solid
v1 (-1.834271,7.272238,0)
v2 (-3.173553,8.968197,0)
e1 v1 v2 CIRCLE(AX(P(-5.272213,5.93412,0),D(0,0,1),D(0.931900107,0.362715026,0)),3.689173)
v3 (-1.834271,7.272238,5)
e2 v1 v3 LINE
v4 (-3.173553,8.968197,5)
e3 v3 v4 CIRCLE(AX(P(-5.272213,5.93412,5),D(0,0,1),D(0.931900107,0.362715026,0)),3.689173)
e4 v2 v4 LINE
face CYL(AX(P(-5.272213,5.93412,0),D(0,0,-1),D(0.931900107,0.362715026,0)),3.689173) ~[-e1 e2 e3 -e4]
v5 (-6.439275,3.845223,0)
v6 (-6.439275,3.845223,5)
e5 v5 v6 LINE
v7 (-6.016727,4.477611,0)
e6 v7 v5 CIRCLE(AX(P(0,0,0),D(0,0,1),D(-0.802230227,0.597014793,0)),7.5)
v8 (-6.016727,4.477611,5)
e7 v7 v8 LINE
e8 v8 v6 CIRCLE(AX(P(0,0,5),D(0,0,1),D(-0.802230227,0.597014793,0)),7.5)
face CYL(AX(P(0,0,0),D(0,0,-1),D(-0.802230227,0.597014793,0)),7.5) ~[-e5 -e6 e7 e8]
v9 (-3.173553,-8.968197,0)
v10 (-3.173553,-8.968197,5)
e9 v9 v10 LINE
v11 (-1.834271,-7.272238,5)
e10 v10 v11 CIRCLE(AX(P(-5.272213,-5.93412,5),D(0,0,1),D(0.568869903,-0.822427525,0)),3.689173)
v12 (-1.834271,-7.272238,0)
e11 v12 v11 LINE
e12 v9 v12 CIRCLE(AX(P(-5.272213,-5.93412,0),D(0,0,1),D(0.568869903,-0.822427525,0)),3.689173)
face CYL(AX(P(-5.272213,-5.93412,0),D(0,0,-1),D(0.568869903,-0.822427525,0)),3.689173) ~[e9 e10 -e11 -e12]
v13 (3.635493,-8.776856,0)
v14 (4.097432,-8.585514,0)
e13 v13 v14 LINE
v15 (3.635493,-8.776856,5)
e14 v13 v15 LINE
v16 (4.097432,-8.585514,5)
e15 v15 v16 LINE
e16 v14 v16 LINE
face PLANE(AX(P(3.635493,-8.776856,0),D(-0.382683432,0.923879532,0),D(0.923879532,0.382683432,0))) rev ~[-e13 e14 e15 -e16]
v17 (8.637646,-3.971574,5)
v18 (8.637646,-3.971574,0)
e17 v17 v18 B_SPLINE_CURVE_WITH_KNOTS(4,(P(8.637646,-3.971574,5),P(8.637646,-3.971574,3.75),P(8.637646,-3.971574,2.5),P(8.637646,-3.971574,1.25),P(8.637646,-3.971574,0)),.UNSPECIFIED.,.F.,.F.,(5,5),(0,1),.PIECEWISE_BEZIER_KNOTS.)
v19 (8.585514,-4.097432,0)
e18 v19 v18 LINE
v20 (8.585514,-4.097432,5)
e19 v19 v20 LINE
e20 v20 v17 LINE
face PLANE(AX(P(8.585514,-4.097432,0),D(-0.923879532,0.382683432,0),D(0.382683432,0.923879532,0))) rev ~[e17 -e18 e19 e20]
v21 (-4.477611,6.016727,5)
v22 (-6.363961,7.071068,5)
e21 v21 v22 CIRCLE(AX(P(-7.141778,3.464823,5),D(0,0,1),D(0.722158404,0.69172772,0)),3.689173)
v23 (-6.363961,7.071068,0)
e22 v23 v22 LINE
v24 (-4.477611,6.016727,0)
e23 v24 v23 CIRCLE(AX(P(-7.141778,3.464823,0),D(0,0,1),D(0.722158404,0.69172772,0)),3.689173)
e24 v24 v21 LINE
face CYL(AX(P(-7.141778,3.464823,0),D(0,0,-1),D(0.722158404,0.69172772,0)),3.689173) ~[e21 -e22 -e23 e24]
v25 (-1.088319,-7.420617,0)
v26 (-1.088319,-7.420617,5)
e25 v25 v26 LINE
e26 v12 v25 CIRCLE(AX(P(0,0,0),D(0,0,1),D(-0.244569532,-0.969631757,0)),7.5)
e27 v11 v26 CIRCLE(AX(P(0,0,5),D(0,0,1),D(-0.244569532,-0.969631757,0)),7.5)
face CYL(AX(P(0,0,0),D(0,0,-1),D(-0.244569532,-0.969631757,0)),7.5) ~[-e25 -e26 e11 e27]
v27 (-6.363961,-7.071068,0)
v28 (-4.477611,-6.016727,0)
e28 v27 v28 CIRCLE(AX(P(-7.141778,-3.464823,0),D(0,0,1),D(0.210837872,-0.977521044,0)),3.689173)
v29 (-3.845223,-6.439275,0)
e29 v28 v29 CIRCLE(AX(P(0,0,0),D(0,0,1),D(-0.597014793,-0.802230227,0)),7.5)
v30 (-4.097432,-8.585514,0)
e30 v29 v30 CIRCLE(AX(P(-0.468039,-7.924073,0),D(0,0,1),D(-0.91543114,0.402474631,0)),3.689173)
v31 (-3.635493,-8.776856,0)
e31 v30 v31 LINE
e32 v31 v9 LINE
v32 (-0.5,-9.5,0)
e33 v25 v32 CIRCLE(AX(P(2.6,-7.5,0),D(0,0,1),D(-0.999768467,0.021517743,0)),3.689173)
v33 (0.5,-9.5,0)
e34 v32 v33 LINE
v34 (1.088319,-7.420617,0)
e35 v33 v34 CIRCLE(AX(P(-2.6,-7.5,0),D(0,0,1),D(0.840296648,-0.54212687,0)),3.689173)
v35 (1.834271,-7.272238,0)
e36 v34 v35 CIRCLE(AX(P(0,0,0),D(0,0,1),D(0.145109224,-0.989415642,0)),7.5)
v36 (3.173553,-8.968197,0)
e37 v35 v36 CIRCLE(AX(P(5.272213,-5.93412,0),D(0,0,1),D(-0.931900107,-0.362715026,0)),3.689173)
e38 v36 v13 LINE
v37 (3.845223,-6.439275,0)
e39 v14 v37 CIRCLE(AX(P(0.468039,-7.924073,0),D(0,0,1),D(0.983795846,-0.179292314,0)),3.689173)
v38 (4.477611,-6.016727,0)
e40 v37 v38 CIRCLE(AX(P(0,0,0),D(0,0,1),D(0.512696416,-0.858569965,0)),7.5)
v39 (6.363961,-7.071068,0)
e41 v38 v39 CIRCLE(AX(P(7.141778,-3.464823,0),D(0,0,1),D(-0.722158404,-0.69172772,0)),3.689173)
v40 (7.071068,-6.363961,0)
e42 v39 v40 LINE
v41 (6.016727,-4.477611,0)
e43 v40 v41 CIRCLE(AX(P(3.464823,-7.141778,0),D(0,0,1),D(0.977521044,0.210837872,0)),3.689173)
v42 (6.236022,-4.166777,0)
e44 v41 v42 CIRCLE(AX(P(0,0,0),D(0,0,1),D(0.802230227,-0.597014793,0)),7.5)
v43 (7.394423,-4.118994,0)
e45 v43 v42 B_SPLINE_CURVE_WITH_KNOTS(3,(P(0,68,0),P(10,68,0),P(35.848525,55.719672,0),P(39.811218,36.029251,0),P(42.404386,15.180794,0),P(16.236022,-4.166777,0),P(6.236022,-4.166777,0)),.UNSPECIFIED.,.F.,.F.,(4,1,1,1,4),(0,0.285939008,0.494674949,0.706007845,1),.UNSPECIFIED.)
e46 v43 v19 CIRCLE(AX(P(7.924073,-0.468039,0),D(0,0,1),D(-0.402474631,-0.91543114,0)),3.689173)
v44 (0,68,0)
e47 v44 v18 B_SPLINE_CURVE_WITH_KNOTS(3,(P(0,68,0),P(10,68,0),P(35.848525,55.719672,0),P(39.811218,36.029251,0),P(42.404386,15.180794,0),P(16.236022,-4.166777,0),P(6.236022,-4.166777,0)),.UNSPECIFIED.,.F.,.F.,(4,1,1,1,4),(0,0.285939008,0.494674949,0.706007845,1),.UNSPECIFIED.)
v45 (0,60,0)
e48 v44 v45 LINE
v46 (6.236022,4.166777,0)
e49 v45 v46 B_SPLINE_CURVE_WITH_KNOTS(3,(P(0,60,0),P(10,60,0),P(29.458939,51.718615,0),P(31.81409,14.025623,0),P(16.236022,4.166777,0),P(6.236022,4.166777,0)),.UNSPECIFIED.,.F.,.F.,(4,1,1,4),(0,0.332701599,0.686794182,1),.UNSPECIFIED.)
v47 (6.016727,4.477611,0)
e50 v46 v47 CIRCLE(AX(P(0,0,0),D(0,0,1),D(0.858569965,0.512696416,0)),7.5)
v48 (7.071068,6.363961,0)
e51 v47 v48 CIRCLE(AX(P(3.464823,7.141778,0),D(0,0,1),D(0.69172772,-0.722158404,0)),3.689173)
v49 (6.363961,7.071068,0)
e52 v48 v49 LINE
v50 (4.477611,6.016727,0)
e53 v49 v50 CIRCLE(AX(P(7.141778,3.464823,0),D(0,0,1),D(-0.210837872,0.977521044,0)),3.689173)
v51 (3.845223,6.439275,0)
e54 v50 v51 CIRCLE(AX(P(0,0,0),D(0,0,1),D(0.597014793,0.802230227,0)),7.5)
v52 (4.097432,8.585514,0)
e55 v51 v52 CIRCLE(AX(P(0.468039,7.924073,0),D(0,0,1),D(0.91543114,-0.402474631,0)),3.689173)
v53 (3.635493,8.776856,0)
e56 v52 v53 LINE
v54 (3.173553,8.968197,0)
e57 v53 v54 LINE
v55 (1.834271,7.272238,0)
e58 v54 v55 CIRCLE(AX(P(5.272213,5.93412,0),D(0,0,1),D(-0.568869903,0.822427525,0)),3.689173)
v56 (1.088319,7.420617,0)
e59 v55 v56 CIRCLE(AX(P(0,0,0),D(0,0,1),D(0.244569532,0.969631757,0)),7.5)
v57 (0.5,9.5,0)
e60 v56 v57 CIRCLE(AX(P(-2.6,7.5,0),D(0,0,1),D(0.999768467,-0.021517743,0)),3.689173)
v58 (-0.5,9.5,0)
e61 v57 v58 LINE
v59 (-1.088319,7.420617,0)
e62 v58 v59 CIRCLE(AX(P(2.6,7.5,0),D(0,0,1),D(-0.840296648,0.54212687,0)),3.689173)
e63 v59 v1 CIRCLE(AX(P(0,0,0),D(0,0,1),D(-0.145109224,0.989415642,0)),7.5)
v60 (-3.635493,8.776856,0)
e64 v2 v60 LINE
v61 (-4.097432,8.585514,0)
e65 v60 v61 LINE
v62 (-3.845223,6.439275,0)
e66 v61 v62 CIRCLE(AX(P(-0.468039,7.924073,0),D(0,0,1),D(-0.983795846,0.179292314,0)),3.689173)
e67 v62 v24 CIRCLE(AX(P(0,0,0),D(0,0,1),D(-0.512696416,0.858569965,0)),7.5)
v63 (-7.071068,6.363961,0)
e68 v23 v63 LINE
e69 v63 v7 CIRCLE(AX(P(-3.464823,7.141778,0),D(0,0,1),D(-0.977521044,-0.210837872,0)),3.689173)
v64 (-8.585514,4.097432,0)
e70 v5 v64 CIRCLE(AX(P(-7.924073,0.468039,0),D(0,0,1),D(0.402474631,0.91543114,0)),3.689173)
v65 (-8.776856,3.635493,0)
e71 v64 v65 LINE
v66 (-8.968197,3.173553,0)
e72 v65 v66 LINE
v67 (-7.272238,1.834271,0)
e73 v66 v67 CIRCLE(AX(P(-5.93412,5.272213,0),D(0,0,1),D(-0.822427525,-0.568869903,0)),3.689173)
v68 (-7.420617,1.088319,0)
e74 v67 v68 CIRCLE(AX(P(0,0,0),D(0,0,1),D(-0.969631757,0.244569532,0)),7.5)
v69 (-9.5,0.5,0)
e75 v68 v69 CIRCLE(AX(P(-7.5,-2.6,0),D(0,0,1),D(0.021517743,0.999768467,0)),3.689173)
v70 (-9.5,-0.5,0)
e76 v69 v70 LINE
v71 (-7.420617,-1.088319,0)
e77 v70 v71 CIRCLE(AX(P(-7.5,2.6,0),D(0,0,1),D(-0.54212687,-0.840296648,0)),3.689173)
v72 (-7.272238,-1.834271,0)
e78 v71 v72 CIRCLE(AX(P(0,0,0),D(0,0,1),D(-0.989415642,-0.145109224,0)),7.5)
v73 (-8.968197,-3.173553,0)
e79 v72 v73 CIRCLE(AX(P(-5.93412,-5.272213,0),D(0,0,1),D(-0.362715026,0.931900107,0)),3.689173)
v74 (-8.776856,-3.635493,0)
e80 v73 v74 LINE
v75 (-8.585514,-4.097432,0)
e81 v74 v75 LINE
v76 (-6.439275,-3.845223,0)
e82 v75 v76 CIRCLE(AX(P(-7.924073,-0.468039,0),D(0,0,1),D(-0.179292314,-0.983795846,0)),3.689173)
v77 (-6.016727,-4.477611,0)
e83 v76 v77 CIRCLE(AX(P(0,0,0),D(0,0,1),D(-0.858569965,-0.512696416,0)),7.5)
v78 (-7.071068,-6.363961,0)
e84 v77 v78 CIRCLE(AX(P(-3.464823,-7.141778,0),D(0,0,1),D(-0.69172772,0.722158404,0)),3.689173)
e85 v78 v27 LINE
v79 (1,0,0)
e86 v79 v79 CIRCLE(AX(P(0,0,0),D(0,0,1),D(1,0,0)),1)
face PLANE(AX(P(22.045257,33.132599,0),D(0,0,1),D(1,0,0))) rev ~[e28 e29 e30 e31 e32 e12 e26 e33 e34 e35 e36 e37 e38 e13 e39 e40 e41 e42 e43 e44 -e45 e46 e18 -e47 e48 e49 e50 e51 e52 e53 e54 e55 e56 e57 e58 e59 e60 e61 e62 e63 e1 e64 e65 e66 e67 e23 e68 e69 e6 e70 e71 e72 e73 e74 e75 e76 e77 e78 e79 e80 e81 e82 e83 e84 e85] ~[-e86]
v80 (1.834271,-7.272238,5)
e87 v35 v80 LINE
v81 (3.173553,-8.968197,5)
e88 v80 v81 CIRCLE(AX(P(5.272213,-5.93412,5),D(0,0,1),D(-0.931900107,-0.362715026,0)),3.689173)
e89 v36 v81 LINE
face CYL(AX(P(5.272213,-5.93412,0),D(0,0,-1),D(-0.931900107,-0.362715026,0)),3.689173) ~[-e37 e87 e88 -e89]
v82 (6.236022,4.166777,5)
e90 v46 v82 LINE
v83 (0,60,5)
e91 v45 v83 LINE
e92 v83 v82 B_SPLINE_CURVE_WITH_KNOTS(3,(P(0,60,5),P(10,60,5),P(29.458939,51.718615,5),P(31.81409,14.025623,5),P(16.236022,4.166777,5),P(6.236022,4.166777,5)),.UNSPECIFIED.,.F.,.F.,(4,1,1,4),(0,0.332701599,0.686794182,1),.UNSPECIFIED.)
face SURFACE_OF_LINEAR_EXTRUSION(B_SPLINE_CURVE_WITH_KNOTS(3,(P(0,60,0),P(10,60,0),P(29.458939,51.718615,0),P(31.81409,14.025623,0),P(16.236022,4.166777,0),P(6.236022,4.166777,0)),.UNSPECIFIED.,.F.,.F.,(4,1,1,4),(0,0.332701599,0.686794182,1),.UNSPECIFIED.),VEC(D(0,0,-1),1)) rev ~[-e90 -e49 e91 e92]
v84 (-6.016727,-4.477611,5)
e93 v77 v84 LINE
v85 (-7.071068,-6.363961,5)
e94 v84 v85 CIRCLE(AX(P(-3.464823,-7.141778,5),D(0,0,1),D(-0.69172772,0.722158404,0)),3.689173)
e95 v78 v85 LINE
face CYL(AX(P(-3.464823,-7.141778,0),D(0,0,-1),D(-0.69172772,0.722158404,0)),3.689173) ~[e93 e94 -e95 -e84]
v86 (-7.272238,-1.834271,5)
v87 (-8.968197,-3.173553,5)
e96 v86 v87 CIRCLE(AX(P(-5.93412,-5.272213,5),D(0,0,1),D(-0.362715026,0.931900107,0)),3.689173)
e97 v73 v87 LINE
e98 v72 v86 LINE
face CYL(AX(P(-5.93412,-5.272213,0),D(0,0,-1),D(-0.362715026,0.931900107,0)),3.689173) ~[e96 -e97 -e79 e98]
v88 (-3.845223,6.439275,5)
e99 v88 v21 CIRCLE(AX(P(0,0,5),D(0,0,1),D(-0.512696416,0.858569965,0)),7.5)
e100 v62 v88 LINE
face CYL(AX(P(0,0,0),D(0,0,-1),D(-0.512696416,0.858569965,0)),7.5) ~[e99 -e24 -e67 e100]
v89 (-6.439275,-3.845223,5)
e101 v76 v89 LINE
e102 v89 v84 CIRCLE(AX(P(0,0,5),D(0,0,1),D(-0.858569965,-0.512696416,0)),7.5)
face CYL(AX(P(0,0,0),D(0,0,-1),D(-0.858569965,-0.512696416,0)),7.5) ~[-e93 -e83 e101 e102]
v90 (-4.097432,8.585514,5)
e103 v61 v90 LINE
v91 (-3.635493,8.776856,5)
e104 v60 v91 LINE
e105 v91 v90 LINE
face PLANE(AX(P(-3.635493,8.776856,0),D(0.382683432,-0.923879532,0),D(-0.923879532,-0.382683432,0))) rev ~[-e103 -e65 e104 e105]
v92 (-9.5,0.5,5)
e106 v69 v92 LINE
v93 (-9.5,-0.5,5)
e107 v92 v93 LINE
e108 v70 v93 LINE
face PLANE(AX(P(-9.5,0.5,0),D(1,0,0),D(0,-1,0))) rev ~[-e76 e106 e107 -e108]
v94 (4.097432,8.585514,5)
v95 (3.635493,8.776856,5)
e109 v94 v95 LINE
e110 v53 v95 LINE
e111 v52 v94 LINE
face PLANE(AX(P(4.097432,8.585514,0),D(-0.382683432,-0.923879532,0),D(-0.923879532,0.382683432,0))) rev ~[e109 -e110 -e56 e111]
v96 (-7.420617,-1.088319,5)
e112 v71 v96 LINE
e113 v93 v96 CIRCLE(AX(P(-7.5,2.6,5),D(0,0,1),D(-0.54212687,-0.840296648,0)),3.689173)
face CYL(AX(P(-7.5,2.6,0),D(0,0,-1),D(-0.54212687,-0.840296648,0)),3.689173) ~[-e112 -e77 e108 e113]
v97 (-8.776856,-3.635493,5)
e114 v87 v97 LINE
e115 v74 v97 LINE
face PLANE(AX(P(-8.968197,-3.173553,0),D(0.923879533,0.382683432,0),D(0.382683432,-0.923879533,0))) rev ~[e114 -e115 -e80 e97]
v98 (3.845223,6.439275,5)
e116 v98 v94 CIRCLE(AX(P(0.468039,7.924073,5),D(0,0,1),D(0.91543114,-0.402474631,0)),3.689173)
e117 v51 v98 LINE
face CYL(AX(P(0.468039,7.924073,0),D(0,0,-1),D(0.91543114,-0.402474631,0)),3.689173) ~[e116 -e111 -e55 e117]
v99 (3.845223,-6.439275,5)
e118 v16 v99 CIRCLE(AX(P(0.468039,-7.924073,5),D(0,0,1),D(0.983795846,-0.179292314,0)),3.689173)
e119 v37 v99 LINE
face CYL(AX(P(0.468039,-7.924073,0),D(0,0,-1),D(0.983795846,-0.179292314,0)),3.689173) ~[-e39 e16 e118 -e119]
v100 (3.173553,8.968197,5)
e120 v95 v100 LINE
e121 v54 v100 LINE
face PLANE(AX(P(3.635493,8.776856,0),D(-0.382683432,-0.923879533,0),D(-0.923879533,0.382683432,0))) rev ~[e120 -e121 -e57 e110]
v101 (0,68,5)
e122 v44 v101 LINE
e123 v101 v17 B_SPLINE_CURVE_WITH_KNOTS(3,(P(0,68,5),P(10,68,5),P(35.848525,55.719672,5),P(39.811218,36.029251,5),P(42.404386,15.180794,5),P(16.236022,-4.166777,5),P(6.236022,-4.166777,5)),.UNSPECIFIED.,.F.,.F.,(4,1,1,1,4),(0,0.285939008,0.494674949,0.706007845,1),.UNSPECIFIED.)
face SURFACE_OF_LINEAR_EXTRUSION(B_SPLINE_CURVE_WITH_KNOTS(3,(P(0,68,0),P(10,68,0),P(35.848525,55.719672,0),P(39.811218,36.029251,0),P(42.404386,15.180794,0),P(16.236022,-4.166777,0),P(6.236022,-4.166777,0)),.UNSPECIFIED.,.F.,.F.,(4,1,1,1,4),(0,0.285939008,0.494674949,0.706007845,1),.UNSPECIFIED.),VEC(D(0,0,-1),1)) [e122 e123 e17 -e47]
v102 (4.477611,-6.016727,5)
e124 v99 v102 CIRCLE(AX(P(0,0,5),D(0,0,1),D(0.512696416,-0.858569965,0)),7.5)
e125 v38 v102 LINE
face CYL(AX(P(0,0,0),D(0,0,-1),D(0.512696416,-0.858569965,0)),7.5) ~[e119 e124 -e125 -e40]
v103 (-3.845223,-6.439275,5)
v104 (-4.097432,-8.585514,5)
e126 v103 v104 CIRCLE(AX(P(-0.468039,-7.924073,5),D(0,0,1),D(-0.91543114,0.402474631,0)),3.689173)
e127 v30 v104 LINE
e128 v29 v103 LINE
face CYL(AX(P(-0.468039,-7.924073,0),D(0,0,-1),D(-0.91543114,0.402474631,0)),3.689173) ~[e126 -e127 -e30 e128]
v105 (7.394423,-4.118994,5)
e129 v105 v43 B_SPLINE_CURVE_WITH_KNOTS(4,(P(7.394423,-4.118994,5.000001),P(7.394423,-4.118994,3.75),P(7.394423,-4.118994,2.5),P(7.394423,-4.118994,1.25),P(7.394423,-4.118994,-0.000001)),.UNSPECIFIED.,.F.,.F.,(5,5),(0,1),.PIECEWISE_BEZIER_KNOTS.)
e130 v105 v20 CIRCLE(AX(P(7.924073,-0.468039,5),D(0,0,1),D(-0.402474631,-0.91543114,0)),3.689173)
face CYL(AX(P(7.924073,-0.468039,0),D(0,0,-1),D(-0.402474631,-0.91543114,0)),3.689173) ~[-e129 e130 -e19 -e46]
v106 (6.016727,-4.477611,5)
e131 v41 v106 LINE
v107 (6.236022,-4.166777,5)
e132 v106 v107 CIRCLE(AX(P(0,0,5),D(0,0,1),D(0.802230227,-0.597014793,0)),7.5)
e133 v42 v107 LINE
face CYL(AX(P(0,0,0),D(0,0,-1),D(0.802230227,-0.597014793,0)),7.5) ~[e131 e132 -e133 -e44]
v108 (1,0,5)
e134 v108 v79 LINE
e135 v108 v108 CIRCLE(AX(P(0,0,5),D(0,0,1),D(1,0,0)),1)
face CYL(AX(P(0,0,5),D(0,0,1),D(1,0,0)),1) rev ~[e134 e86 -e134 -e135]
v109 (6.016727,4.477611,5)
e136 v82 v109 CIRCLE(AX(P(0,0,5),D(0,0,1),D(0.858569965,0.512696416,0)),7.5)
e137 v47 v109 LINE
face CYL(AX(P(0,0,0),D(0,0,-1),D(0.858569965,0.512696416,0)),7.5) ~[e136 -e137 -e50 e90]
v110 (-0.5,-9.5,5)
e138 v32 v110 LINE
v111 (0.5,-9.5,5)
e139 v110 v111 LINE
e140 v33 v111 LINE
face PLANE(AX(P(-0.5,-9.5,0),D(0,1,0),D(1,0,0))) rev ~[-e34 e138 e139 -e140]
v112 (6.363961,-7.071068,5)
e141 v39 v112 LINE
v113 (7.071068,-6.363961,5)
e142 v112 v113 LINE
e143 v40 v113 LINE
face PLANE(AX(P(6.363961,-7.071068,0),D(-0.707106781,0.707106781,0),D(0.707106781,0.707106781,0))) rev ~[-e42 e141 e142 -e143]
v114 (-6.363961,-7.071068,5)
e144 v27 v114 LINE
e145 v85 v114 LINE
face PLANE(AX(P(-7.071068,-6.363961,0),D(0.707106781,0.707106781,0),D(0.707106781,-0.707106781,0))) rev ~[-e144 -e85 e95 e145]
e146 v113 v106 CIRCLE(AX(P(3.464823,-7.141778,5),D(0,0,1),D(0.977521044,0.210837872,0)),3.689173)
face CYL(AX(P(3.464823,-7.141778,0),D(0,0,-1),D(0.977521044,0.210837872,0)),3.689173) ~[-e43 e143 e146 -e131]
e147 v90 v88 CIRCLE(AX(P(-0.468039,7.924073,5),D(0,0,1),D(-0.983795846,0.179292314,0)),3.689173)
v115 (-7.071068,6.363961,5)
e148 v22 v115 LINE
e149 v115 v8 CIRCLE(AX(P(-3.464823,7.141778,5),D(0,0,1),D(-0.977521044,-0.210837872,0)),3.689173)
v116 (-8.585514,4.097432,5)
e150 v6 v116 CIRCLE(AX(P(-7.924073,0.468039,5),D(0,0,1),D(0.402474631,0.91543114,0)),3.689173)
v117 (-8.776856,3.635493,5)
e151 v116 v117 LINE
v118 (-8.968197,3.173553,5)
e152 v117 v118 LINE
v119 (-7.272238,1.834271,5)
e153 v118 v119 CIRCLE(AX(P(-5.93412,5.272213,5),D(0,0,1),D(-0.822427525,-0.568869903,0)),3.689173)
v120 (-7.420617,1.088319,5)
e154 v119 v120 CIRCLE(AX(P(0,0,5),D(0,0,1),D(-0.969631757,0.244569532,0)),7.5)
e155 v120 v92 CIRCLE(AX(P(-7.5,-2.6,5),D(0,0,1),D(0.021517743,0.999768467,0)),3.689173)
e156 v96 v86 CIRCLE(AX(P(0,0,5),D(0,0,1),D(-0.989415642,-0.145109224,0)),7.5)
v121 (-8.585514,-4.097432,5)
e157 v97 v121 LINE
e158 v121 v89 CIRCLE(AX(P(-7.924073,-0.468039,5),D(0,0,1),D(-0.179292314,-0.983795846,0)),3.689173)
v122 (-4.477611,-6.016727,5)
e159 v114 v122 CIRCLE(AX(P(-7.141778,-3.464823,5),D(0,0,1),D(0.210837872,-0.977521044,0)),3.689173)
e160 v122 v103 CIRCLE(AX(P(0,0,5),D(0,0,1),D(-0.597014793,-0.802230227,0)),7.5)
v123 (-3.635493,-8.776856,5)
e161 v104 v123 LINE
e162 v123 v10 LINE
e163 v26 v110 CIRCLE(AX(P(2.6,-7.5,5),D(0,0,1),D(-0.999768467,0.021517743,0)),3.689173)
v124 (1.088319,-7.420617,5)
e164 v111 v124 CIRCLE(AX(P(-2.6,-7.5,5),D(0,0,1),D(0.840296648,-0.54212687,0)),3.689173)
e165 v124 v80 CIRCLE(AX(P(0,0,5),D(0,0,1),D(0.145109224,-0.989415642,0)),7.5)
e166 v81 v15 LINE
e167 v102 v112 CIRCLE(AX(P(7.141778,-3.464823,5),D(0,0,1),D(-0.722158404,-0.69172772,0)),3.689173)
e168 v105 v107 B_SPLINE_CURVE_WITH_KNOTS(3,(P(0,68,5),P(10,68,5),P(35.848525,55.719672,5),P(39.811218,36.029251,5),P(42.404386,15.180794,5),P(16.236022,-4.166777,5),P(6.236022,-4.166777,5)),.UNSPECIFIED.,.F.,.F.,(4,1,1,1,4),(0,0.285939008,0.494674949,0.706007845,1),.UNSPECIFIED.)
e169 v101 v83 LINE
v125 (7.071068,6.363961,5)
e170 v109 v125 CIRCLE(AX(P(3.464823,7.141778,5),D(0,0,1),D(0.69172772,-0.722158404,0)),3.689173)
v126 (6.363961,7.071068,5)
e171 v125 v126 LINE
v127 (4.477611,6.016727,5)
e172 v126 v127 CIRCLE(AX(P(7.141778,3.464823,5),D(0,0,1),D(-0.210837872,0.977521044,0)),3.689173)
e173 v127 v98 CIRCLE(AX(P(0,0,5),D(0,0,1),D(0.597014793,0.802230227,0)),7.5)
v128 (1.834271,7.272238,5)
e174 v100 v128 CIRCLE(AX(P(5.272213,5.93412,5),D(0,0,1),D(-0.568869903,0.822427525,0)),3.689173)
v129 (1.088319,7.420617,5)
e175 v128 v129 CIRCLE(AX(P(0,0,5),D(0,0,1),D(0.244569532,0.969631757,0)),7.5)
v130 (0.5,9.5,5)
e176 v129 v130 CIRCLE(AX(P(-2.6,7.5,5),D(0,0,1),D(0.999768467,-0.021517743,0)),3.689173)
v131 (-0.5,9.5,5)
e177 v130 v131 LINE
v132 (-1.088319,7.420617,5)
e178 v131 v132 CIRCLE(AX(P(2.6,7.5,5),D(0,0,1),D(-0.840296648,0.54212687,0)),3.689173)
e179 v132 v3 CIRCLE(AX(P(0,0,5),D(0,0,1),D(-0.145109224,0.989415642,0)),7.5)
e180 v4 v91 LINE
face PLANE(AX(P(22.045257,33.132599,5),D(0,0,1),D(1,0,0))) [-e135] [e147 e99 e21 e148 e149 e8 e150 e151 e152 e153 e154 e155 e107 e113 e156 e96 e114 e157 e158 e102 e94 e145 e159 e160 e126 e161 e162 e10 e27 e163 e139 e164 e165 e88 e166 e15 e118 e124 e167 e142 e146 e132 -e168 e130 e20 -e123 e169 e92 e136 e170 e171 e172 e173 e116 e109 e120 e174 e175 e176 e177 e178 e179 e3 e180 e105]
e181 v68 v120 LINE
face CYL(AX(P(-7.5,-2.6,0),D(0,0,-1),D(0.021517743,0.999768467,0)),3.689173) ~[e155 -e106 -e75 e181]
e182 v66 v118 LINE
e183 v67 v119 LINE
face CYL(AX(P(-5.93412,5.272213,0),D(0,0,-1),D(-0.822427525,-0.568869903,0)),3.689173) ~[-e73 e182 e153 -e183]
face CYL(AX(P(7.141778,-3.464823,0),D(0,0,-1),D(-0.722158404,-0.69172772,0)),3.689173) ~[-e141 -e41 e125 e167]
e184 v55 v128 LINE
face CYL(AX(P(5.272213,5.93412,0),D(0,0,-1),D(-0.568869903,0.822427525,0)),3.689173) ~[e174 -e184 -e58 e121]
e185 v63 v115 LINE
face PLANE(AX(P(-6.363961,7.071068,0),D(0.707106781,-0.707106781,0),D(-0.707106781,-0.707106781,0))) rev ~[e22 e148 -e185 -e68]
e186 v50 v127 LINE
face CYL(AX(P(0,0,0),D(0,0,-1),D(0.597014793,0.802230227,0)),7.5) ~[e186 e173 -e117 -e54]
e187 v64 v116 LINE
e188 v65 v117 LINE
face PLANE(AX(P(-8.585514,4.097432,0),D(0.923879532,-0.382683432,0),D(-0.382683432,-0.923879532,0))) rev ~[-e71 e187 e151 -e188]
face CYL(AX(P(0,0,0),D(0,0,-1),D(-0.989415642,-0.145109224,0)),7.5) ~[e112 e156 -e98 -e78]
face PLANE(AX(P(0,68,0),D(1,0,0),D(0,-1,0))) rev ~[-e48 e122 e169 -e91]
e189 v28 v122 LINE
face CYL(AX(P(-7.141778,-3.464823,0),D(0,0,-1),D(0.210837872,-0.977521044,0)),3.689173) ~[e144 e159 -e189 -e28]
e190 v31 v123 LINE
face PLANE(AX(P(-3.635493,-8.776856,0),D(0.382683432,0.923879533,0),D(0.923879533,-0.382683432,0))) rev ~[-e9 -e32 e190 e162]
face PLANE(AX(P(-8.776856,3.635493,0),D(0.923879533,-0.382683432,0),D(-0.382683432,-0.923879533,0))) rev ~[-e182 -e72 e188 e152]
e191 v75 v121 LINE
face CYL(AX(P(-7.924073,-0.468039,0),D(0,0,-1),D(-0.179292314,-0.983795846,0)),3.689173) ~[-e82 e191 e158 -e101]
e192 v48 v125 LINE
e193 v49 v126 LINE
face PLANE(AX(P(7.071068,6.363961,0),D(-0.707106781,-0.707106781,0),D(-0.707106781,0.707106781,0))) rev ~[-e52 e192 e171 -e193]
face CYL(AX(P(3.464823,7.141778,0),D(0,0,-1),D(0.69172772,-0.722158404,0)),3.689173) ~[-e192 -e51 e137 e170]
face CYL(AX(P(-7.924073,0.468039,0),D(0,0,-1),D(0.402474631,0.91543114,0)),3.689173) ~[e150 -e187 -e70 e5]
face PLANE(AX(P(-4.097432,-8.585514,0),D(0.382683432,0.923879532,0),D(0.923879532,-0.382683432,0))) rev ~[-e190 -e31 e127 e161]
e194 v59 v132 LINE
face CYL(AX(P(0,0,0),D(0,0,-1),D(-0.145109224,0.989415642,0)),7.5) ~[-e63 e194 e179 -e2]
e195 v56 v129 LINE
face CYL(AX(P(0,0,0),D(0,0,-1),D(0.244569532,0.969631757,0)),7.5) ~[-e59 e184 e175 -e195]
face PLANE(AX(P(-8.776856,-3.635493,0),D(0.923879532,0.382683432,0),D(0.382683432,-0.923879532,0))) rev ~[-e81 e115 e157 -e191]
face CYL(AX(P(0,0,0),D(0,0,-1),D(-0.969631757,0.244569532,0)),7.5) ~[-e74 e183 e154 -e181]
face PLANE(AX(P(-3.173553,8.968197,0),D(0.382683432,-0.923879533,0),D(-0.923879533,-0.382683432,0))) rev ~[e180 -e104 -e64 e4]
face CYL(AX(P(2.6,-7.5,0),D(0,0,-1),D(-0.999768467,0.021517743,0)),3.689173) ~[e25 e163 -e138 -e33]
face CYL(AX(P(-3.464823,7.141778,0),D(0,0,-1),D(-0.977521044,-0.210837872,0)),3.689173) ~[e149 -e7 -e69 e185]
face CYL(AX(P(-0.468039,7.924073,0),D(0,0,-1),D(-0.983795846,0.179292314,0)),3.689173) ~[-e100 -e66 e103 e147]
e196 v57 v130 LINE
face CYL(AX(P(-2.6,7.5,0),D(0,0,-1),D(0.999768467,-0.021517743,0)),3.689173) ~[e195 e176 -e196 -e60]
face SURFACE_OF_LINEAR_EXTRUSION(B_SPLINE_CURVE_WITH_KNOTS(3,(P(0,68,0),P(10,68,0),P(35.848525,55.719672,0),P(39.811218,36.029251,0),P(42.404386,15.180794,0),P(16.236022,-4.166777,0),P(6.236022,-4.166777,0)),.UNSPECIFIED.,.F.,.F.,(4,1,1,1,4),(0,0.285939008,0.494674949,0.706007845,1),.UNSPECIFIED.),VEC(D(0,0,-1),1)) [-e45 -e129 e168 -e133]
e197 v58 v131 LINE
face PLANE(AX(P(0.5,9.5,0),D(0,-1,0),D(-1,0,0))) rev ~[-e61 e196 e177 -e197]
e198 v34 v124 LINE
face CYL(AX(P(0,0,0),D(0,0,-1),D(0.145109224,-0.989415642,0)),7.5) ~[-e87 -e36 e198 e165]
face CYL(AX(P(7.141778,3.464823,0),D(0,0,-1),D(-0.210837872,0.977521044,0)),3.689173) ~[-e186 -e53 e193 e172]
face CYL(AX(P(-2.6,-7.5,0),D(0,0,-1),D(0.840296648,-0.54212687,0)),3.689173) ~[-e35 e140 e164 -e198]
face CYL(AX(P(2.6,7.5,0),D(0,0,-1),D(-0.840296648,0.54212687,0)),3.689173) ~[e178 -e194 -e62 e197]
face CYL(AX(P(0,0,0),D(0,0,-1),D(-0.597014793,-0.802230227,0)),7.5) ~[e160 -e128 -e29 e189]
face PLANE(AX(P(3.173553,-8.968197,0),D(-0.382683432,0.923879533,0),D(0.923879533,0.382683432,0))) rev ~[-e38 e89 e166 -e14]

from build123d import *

# Parameters (mm, degrees)
F1_DEPTH = 5
F2_R     = 1
F3_DEPTH = 5.001
F5_DEPTH = 5


with BuildPart() as f1:
    # F0 (on Top) → F1 (new body)
    with BuildSketch(Plane.XY):
        with BuildLine():
            ThreePointArc((7.4206173165, -1.0883191822), (7.4801280027, -0.5456052265), (7.5, 0))
            ThreePointArc((7.5, 0), (7.4801280027, 0.5456052265), (7.4206173165, 1.0883191822))
            ThreePointArc((7.4206173165, 1.0883191822), (7.355889603, 1.4631774151), (7.2722381774, 1.8342714877))
            ThreePointArc((7.2722381774, 1.8342714877), (6.9290964938, 2.8701257427), (6.4392747372, 3.8452231222))
            ThreePointArc((6.4392747372, 3.8452231222), (6.2360220923, 4.1667767476), (6.0167266989, 4.4776109513))
            ThreePointArc((6.0167266989, 4.4776109513), (5.3033008589, 5.3033008589), (4.4776109513, 6.0167266989))
            ThreePointArc((4.4776109513, 6.0167266989), (4.1667767476, 6.2360220923), (3.8452231222, 6.4392747372))
            ThreePointArc((3.8452231222, 6.4392747372), (2.8701257427, 6.9290964938), (1.8342714877, 7.2722381774))
            ThreePointArc((1.8342714877, 7.2722381774), (1.4631774151, 7.355889603), (1.0883191822, 7.4206173165))
            ThreePointArc((1.0883191822, 7.4206173165), (0.5456052265, 7.4801280027), (0, 7.5))
            ThreePointArc((0, 7.5), (-0.5456052265, 7.4801280027), (-1.0883191822, 7.4206173165))
            ThreePointArc((-1.0883191822, 7.4206173165), (-1.4631774151, 7.355889603), (-1.8342714877, 7.2722381774))
            ThreePointArc((-1.8342714877, 7.2722381774), (-2.8701257427, 6.9290964938), (-3.8452231222, 6.4392747372))
            ThreePointArc((-3.8452231222, 6.4392747372), (-4.1667767476, 6.2360220923), (-4.4776109513, 6.0167266989))
            ThreePointArc((-4.4776109513, 6.0167266989), (-5.3033008589, 5.3033008589), (-6.0167266989, 4.4776109513))
            ThreePointArc((-6.0167266989, 4.4776109513), (-6.2360220923, 4.1667767476), (-6.4392747372, 3.8452231222))
            ThreePointArc((-6.4392747372, 3.8452231222), (-6.9290964938, 2.8701257427), (-7.2722381774, 1.8342714877))
            ThreePointArc((-7.2722381774, 1.8342714877), (-7.355889603, 1.4631774151), (-7.4206173165, 1.0883191822))
            ThreePointArc((-7.4206173165, 1.0883191822), (-7.5, 0), (-7.4206173165, -1.0883191822))
            ThreePointArc((-7.4206173165, -1.0883191822), (-7.355889603, -1.4631774151), (-7.2722381774, -1.8342714877))
            ThreePointArc((-7.2722381774, -1.8342714877), (-6.9290964938, -2.8701257427), (-6.4392747372, -3.8452231222))
            ThreePointArc((-6.4392747372, -3.8452231222), (-6.2360220923, -4.1667767476), (-6.0167266989, -4.4776109513))
            ThreePointArc((-6.0167266989, -4.4776109513), (-5.3033008589, -5.3033008589), (-4.4776109513, -6.0167266989))
            ThreePointArc((-4.4776109513, -6.0167266989), (-4.1667767476, -6.2360220923), (-3.8452231222, -6.4392747372))
            ThreePointArc((-3.8452231222, -6.4392747372), (-2.8701257427, -6.9290964938), (-1.8342714877, -7.2722381774))
            ThreePointArc((-1.8342714877, -7.2722381774), (-1.4631774151, -7.355889603), (-1.0883191822, -7.4206173165))
            ThreePointArc((-1.0883191822, -7.4206173165), (0, -7.5), (1.0883191822, -7.4206173165))
            ThreePointArc((1.0883191822, -7.4206173165), (1.4631774151, -7.355889603), (1.8342714877, -7.2722381774))
            ThreePointArc((1.8342714877, -7.2722381774), (2.8701257427, -6.9290964938), (3.8452231222, -6.4392747372))
            ThreePointArc((3.8452231222, -6.4392747372), (4.1667767476, -6.2360220923), (4.4776109513, -6.0167266989))
            ThreePointArc((4.4776109513, -6.0167266989), (5.3033008589, -5.3033008589), (6.0167266989, -4.4776109513))
            ThreePointArc((6.0167266989, -4.4776109513), (6.2360220923, -4.1667767476), (6.4392747372, -3.8452231222))
            ThreePointArc((6.4392747372, -3.8452231222), (6.9290964938, -2.8701257427), (7.2722381774, -1.8342714877))
            ThreePointArc((7.2722381774, -1.8342714877), (7.355889603, -1.4631774151), (7.4206173165, -1.0883191822))
        make_face()
        with BuildLine():
            ThreePointArc((7.4206173165, 1.0883191822), (7.4801280027, 0.5456052265), (7.5, 0))
            ThreePointArc((7.5, 0), (7.4801280027, -0.5456052265), (7.4206173165, -1.0883191822))
            ThreePointArc((7.4206173165, -1.0883191822), (8.5043518229, -0.9498278009), (9.5, -0.5))
            Line((9.5, -0.5), (9.5, 0))
            Line((9.5, 0), (9.5, 0.5))
            ThreePointArc((9.5, 0.5), (8.5043518229, 0.9498278009), (7.4206173165, 1.0883191822))
        make_face()
        with BuildLine():
            ThreePointArc((6.4392747372, 3.8452231222), (6.9290964938, 2.8701257427), (7.2722381774, 1.8342714877))
            ThreePointArc((7.2722381774, 1.8342714877), (8.2204799494, 2.376948081), (8.968197275, 3.1735528412))
            Line((8.968197275, 3.1735528412), (8.7768555589, 3.6354926075))
            Line((8.7768555589, 3.6354926075), (8.5855138427, 4.0974323737))
            ThreePointArc((8.5855138427, 4.0974323737), (7.4935132234, 4.1320010103), (6.4392747372, 3.8452231222))
        make_face()
        with BuildLine():
            ThreePointArc((8.968197275, -3.1735528412), (8.2204799494, -2.376948081), (7.2722381774, -1.8342714877))
            ThreePointArc((7.2722381774, -1.8342714877), (6.9290964938, -2.8701257427), (6.4392747372, -3.8452231222))
            ThreePointArc((6.4392747372, -3.8452231222), (7.4935132234, -4.1320010103), (8.5855138427, -4.0974323737))
            Line((8.5855138427, -4.0974323737), (8.7768555589, -3.6354926075))
            Line((8.7768555589, -3.6354926075), (8.968197275, -3.1735528412))
        make_face()
        with BuildLine():
            ThreePointArc((4.4776109513, 6.0167266989), (5.3033008589, 5.3033008589), (6.0167266989, 4.4776109513))
            ThreePointArc((6.0167266989, 4.4776109513), (6.6851145225, 5.3418551646), (7.0710678119, 6.3639610307))
            Line((7.0710678119, 6.3639610307), (6.7175144213, 6.7175144213))
            Line((6.7175144213, 6.7175144213), (6.3639610307, 7.0710678119))
            ThreePointArc((6.3639610307, 7.0710678119), (5.3418551646, 6.6851145225), (4.4776109513, 6.0167266989))
        make_face()
        with BuildLine():
            ThreePointArc((7.0710678119, -6.3639610307), (6.6851145225, -5.3418551646), (6.0167266989, -4.4776109513))
            ThreePointArc((6.0167266989, -4.4776109513), (5.3033008589, -5.3033008589), (4.4776109513, -6.0167266989))
            ThreePointArc((4.4776109513, -6.0167266989), (5.3418551646, -6.6851145225), (6.3639610307, -7.0710678119))
            Line((6.3639610307, -7.0710678119), (6.7175144213, -6.7175144213))
            Line((6.7175144213, -6.7175144213), (7.0710678119, -6.3639610307))
        make_face()
        with BuildLine():
            ThreePointArc((1.8342714877, 7.2722381774), (2.8701257427, 6.9290964938), (3.8452231222, 6.4392747372))
            ThreePointArc((3.8452231222, 6.4392747372), (4.1320010103, 7.4935132234), (4.0974323737, 8.5855138427))
            Line((4.0974323737, 8.5855138427), (3.6354926075, 8.7768555589))
            Line((3.6354926075, 8.7768555589), (3.1735528412, 8.968197275))
            ThreePointArc((3.1735528412, 8.968197275), (2.376948081, 8.2204799494), (1.8342714877, 7.2722381774))
        make_face()
        with BuildLine():
            ThreePointArc((4.0974323737, -8.5855138427), (4.1320010103, -7.4935132234), (3.8452231222, -6.4392747372))
            ThreePointArc((3.8452231222, -6.4392747372), (2.8701257427, -6.9290964938), (1.8342714877, -7.2722381774))
            ThreePointArc((1.8342714877, -7.2722381774), (2.376948081, -8.2204799494), (3.1735528412, -8.968197275))
            Line((3.1735528412, -8.968197275), (3.6354926075, -8.7768555589))
            Line((3.6354926075, -8.7768555589), (4.0974323737, -8.5855138427))
        make_face()
        with BuildLine():
            ThreePointArc((0, 7.5), (0.5456052265, 7.4801280027), (1.0883191822, 7.4206173165))
            ThreePointArc((1.0883191822, 7.4206173165), (0.9498278009, 8.5043518229), (0.5, 9.5))
            Line((0.5, 9.5), (0, 9.5))
            Line((0, 9.5), (0, 7.5))
        make_face()
        with BuildLine():
            ThreePointArc((0.5, -9.5), (0.9498278009, -8.5043518229), (1.0883191822, -7.4206173165))
            ThreePointArc((1.0883191822, -7.4206173165), (0, -7.5), (-1.0883191822, -7.4206173165))
            ThreePointArc((-1.0883191822, -7.4206173165), (-0.9498278009, -8.5043518229), (-0.5, -9.5))
            Line((-0.5, -9.5), (0, -9.5))
            Line((0, -9.5), (0.5, -9.5))
        make_face()
        with BuildLine():
            ThreePointArc((-1.0883191822, 7.4206173165), (-0.5456052265, 7.4801280027), (0, 7.5))
            Line((0, 7.5), (0, 9.5))
            Line((0, 9.5), (-0.5, 9.5))
            ThreePointArc((-0.5, 9.5), (-0.9498278009, 8.5043518229), (-1.0883191822, 7.4206173165))
        make_face()
        with BuildLine():
            ThreePointArc((-3.1735528412, -8.968197275), (-2.376948081, -8.2204799494), (-1.8342714877, -7.2722381774))
            ThreePointArc((-1.8342714877, -7.2722381774), (-2.8701257427, -6.9290964938), (-3.8452231222, -6.4392747372))
            ThreePointArc((-3.8452231222, -6.4392747372), (-4.1320010103, -7.4935132234), (-4.0974323737, -8.5855138427))
            Line((-4.0974323737, -8.5855138427), (-3.6354926075, -8.7768555589))
            Line((-3.6354926075, -8.7768555589), (-3.1735528412, -8.968197275))
        make_face()
        with BuildLine():
            ThreePointArc((-3.8452231222, 6.4392747372), (-2.8701257427, 6.9290964938), (-1.8342714877, 7.2722381774))
            ThreePointArc((-1.8342714877, 7.2722381774), (-2.376948081, 8.2204799494), (-3.1735528412, 8.968197275))
            Line((-3.1735528412, 8.968197275), (-3.6354926075, 8.7768555589))
            Line((-3.6354926075, 8.7768555589), (-4.0974323737, 8.5855138427))
            ThreePointArc((-4.0974323737, 8.5855138427), (-4.1320010103, 7.4935132234), (-3.8452231222, 6.4392747372))
        make_face()
        with BuildLine():
            ThreePointArc((-6.3639610307, -7.0710678119), (-5.3418551646, -6.6851145225), (-4.4776109513, -6.0167266989))
            ThreePointArc((-4.4776109513, -6.0167266989), (-5.3033008589, -5.3033008589), (-6.0167266989, -4.4776109513))
            ThreePointArc((-6.0167266989, -4.4776109513), (-6.6851145225, -5.3418551646), (-7.0710678119, -6.3639610307))
            Line((-7.0710678119, -6.3639610307), (-6.7175144213, -6.7175144213))
            Line((-6.7175144213, -6.7175144213), (-6.3639610307, -7.0710678119))
        make_face()
        with BuildLine():
            ThreePointArc((-6.0167266989, 4.4776109513), (-5.3033008589, 5.3033008589), (-4.4776109513, 6.0167266989))
            ThreePointArc((-4.4776109513, 6.0167266989), (-5.3418551646, 6.6851145225), (-6.3639610307, 7.0710678119))
            Line((-6.3639610307, 7.0710678119), (-6.7175144213, 6.7175144213))
            Line((-6.7175144213, 6.7175144213), (-7.0710678119, 6.3639610307))
            ThreePointArc((-7.0710678119, 6.3639610307), (-6.6851145225, 5.3418551646), (-6.0167266989, 4.4776109513))
        make_face()
        with BuildLine():
            ThreePointArc((-8.5855138427, -4.0974323737), (-7.4935132234, -4.1320010103), (-6.4392747372, -3.8452231222))
            ThreePointArc((-6.4392747372, -3.8452231222), (-6.9290964938, -2.8701257427), (-7.2722381774, -1.8342714877))
            ThreePointArc((-7.2722381774, -1.8342714877), (-8.2204799494, -2.376948081), (-8.968197275, -3.1735528412))
            Line((-8.968197275, -3.1735528412), (-8.7768555589, -3.6354926075))
            Line((-8.7768555589, -3.6354926075), (-8.5855138427, -4.0974323737))
        make_face()
        with BuildLine():
            ThreePointArc((-7.2722381774, 1.8342714877), (-6.9290964938, 2.8701257427), (-6.4392747372, 3.8452231222))
            ThreePointArc((-6.4392747372, 3.8452231222), (-7.4935132234, 4.1320010103), (-8.5855138427, 4.0974323737))
            Line((-8.5855138427, 4.0974323737), (-8.7768555589, 3.6354926075))
            Line((-8.7768555589, 3.6354926075), (-8.968197275, 3.1735528412))
            ThreePointArc((-8.968197275, 3.1735528412), (-8.2204799494, 2.376948081), (-7.2722381774, 1.8342714877))
        make_face()
        with BuildLine():
            ThreePointArc((-9.5, -0.5), (-8.5043518229, -0.9498278009), (-7.4206173165, -1.0883191822))
            ThreePointArc((-7.4206173165, -1.0883191822), (-7.5, 0), (-7.4206173165, 1.0883191822))
            ThreePointArc((-7.4206173165, 1.0883191822), (-8.5043518229, 0.9498278009), (-9.5, 0.5))
            Line((-9.5, 0.5), (-9.5, 0))
            Line((-9.5, 0), (-9.5, -0.5))
        make_face()
    extrude(amount=F1_DEPTH)

    # F2 (on face) → F3 (cut, through all)
    with BuildSketch(Plane.XY.offset(5)):
        Circle(F2_R)
    extrude(amount=-F3_DEPTH, mode=Mode.SUBTRACT)

    # F4 (on Top) → F5 (join, through all)
    with BuildSketch(Plane.XY):
        with BuildLine():
            Line((0, 68), (0, 60))
            add(Edge.make_bspline(
                [(0, 60), (10, 60), (29.4589387842, 51.7186151353), (31.8140897769, 14.0256230185), (16.2360220923, 4.1667767476), (6.2360220923, 4.1667767476)],
                knots=[0, 0, 0, 0, 0.3327015989, 0.6867941822, 1, 1, 1, 1], degree=3))
            Line((6.2360220923, 4.1667767476), (6.2360220923, -4.1667767476))
            add(Edge.make_bspline(
                [(0, 68), (10, 68), (35.8485249269, 55.7196717708), (39.8112176928, 36.0292510821), (42.4043860037, 15.1807935545), (16.2360220923, -4.1667767476), (6.2360220923, -4.1667767476)],
                knots=[0, 0, 0, 0, 0.2859390076, 0.4946749487, 0.7060078455, 1, 1, 1, 1], degree=3))
        make_face()
    extrude(amount=F5_DEPTH)


solid = f1.part
